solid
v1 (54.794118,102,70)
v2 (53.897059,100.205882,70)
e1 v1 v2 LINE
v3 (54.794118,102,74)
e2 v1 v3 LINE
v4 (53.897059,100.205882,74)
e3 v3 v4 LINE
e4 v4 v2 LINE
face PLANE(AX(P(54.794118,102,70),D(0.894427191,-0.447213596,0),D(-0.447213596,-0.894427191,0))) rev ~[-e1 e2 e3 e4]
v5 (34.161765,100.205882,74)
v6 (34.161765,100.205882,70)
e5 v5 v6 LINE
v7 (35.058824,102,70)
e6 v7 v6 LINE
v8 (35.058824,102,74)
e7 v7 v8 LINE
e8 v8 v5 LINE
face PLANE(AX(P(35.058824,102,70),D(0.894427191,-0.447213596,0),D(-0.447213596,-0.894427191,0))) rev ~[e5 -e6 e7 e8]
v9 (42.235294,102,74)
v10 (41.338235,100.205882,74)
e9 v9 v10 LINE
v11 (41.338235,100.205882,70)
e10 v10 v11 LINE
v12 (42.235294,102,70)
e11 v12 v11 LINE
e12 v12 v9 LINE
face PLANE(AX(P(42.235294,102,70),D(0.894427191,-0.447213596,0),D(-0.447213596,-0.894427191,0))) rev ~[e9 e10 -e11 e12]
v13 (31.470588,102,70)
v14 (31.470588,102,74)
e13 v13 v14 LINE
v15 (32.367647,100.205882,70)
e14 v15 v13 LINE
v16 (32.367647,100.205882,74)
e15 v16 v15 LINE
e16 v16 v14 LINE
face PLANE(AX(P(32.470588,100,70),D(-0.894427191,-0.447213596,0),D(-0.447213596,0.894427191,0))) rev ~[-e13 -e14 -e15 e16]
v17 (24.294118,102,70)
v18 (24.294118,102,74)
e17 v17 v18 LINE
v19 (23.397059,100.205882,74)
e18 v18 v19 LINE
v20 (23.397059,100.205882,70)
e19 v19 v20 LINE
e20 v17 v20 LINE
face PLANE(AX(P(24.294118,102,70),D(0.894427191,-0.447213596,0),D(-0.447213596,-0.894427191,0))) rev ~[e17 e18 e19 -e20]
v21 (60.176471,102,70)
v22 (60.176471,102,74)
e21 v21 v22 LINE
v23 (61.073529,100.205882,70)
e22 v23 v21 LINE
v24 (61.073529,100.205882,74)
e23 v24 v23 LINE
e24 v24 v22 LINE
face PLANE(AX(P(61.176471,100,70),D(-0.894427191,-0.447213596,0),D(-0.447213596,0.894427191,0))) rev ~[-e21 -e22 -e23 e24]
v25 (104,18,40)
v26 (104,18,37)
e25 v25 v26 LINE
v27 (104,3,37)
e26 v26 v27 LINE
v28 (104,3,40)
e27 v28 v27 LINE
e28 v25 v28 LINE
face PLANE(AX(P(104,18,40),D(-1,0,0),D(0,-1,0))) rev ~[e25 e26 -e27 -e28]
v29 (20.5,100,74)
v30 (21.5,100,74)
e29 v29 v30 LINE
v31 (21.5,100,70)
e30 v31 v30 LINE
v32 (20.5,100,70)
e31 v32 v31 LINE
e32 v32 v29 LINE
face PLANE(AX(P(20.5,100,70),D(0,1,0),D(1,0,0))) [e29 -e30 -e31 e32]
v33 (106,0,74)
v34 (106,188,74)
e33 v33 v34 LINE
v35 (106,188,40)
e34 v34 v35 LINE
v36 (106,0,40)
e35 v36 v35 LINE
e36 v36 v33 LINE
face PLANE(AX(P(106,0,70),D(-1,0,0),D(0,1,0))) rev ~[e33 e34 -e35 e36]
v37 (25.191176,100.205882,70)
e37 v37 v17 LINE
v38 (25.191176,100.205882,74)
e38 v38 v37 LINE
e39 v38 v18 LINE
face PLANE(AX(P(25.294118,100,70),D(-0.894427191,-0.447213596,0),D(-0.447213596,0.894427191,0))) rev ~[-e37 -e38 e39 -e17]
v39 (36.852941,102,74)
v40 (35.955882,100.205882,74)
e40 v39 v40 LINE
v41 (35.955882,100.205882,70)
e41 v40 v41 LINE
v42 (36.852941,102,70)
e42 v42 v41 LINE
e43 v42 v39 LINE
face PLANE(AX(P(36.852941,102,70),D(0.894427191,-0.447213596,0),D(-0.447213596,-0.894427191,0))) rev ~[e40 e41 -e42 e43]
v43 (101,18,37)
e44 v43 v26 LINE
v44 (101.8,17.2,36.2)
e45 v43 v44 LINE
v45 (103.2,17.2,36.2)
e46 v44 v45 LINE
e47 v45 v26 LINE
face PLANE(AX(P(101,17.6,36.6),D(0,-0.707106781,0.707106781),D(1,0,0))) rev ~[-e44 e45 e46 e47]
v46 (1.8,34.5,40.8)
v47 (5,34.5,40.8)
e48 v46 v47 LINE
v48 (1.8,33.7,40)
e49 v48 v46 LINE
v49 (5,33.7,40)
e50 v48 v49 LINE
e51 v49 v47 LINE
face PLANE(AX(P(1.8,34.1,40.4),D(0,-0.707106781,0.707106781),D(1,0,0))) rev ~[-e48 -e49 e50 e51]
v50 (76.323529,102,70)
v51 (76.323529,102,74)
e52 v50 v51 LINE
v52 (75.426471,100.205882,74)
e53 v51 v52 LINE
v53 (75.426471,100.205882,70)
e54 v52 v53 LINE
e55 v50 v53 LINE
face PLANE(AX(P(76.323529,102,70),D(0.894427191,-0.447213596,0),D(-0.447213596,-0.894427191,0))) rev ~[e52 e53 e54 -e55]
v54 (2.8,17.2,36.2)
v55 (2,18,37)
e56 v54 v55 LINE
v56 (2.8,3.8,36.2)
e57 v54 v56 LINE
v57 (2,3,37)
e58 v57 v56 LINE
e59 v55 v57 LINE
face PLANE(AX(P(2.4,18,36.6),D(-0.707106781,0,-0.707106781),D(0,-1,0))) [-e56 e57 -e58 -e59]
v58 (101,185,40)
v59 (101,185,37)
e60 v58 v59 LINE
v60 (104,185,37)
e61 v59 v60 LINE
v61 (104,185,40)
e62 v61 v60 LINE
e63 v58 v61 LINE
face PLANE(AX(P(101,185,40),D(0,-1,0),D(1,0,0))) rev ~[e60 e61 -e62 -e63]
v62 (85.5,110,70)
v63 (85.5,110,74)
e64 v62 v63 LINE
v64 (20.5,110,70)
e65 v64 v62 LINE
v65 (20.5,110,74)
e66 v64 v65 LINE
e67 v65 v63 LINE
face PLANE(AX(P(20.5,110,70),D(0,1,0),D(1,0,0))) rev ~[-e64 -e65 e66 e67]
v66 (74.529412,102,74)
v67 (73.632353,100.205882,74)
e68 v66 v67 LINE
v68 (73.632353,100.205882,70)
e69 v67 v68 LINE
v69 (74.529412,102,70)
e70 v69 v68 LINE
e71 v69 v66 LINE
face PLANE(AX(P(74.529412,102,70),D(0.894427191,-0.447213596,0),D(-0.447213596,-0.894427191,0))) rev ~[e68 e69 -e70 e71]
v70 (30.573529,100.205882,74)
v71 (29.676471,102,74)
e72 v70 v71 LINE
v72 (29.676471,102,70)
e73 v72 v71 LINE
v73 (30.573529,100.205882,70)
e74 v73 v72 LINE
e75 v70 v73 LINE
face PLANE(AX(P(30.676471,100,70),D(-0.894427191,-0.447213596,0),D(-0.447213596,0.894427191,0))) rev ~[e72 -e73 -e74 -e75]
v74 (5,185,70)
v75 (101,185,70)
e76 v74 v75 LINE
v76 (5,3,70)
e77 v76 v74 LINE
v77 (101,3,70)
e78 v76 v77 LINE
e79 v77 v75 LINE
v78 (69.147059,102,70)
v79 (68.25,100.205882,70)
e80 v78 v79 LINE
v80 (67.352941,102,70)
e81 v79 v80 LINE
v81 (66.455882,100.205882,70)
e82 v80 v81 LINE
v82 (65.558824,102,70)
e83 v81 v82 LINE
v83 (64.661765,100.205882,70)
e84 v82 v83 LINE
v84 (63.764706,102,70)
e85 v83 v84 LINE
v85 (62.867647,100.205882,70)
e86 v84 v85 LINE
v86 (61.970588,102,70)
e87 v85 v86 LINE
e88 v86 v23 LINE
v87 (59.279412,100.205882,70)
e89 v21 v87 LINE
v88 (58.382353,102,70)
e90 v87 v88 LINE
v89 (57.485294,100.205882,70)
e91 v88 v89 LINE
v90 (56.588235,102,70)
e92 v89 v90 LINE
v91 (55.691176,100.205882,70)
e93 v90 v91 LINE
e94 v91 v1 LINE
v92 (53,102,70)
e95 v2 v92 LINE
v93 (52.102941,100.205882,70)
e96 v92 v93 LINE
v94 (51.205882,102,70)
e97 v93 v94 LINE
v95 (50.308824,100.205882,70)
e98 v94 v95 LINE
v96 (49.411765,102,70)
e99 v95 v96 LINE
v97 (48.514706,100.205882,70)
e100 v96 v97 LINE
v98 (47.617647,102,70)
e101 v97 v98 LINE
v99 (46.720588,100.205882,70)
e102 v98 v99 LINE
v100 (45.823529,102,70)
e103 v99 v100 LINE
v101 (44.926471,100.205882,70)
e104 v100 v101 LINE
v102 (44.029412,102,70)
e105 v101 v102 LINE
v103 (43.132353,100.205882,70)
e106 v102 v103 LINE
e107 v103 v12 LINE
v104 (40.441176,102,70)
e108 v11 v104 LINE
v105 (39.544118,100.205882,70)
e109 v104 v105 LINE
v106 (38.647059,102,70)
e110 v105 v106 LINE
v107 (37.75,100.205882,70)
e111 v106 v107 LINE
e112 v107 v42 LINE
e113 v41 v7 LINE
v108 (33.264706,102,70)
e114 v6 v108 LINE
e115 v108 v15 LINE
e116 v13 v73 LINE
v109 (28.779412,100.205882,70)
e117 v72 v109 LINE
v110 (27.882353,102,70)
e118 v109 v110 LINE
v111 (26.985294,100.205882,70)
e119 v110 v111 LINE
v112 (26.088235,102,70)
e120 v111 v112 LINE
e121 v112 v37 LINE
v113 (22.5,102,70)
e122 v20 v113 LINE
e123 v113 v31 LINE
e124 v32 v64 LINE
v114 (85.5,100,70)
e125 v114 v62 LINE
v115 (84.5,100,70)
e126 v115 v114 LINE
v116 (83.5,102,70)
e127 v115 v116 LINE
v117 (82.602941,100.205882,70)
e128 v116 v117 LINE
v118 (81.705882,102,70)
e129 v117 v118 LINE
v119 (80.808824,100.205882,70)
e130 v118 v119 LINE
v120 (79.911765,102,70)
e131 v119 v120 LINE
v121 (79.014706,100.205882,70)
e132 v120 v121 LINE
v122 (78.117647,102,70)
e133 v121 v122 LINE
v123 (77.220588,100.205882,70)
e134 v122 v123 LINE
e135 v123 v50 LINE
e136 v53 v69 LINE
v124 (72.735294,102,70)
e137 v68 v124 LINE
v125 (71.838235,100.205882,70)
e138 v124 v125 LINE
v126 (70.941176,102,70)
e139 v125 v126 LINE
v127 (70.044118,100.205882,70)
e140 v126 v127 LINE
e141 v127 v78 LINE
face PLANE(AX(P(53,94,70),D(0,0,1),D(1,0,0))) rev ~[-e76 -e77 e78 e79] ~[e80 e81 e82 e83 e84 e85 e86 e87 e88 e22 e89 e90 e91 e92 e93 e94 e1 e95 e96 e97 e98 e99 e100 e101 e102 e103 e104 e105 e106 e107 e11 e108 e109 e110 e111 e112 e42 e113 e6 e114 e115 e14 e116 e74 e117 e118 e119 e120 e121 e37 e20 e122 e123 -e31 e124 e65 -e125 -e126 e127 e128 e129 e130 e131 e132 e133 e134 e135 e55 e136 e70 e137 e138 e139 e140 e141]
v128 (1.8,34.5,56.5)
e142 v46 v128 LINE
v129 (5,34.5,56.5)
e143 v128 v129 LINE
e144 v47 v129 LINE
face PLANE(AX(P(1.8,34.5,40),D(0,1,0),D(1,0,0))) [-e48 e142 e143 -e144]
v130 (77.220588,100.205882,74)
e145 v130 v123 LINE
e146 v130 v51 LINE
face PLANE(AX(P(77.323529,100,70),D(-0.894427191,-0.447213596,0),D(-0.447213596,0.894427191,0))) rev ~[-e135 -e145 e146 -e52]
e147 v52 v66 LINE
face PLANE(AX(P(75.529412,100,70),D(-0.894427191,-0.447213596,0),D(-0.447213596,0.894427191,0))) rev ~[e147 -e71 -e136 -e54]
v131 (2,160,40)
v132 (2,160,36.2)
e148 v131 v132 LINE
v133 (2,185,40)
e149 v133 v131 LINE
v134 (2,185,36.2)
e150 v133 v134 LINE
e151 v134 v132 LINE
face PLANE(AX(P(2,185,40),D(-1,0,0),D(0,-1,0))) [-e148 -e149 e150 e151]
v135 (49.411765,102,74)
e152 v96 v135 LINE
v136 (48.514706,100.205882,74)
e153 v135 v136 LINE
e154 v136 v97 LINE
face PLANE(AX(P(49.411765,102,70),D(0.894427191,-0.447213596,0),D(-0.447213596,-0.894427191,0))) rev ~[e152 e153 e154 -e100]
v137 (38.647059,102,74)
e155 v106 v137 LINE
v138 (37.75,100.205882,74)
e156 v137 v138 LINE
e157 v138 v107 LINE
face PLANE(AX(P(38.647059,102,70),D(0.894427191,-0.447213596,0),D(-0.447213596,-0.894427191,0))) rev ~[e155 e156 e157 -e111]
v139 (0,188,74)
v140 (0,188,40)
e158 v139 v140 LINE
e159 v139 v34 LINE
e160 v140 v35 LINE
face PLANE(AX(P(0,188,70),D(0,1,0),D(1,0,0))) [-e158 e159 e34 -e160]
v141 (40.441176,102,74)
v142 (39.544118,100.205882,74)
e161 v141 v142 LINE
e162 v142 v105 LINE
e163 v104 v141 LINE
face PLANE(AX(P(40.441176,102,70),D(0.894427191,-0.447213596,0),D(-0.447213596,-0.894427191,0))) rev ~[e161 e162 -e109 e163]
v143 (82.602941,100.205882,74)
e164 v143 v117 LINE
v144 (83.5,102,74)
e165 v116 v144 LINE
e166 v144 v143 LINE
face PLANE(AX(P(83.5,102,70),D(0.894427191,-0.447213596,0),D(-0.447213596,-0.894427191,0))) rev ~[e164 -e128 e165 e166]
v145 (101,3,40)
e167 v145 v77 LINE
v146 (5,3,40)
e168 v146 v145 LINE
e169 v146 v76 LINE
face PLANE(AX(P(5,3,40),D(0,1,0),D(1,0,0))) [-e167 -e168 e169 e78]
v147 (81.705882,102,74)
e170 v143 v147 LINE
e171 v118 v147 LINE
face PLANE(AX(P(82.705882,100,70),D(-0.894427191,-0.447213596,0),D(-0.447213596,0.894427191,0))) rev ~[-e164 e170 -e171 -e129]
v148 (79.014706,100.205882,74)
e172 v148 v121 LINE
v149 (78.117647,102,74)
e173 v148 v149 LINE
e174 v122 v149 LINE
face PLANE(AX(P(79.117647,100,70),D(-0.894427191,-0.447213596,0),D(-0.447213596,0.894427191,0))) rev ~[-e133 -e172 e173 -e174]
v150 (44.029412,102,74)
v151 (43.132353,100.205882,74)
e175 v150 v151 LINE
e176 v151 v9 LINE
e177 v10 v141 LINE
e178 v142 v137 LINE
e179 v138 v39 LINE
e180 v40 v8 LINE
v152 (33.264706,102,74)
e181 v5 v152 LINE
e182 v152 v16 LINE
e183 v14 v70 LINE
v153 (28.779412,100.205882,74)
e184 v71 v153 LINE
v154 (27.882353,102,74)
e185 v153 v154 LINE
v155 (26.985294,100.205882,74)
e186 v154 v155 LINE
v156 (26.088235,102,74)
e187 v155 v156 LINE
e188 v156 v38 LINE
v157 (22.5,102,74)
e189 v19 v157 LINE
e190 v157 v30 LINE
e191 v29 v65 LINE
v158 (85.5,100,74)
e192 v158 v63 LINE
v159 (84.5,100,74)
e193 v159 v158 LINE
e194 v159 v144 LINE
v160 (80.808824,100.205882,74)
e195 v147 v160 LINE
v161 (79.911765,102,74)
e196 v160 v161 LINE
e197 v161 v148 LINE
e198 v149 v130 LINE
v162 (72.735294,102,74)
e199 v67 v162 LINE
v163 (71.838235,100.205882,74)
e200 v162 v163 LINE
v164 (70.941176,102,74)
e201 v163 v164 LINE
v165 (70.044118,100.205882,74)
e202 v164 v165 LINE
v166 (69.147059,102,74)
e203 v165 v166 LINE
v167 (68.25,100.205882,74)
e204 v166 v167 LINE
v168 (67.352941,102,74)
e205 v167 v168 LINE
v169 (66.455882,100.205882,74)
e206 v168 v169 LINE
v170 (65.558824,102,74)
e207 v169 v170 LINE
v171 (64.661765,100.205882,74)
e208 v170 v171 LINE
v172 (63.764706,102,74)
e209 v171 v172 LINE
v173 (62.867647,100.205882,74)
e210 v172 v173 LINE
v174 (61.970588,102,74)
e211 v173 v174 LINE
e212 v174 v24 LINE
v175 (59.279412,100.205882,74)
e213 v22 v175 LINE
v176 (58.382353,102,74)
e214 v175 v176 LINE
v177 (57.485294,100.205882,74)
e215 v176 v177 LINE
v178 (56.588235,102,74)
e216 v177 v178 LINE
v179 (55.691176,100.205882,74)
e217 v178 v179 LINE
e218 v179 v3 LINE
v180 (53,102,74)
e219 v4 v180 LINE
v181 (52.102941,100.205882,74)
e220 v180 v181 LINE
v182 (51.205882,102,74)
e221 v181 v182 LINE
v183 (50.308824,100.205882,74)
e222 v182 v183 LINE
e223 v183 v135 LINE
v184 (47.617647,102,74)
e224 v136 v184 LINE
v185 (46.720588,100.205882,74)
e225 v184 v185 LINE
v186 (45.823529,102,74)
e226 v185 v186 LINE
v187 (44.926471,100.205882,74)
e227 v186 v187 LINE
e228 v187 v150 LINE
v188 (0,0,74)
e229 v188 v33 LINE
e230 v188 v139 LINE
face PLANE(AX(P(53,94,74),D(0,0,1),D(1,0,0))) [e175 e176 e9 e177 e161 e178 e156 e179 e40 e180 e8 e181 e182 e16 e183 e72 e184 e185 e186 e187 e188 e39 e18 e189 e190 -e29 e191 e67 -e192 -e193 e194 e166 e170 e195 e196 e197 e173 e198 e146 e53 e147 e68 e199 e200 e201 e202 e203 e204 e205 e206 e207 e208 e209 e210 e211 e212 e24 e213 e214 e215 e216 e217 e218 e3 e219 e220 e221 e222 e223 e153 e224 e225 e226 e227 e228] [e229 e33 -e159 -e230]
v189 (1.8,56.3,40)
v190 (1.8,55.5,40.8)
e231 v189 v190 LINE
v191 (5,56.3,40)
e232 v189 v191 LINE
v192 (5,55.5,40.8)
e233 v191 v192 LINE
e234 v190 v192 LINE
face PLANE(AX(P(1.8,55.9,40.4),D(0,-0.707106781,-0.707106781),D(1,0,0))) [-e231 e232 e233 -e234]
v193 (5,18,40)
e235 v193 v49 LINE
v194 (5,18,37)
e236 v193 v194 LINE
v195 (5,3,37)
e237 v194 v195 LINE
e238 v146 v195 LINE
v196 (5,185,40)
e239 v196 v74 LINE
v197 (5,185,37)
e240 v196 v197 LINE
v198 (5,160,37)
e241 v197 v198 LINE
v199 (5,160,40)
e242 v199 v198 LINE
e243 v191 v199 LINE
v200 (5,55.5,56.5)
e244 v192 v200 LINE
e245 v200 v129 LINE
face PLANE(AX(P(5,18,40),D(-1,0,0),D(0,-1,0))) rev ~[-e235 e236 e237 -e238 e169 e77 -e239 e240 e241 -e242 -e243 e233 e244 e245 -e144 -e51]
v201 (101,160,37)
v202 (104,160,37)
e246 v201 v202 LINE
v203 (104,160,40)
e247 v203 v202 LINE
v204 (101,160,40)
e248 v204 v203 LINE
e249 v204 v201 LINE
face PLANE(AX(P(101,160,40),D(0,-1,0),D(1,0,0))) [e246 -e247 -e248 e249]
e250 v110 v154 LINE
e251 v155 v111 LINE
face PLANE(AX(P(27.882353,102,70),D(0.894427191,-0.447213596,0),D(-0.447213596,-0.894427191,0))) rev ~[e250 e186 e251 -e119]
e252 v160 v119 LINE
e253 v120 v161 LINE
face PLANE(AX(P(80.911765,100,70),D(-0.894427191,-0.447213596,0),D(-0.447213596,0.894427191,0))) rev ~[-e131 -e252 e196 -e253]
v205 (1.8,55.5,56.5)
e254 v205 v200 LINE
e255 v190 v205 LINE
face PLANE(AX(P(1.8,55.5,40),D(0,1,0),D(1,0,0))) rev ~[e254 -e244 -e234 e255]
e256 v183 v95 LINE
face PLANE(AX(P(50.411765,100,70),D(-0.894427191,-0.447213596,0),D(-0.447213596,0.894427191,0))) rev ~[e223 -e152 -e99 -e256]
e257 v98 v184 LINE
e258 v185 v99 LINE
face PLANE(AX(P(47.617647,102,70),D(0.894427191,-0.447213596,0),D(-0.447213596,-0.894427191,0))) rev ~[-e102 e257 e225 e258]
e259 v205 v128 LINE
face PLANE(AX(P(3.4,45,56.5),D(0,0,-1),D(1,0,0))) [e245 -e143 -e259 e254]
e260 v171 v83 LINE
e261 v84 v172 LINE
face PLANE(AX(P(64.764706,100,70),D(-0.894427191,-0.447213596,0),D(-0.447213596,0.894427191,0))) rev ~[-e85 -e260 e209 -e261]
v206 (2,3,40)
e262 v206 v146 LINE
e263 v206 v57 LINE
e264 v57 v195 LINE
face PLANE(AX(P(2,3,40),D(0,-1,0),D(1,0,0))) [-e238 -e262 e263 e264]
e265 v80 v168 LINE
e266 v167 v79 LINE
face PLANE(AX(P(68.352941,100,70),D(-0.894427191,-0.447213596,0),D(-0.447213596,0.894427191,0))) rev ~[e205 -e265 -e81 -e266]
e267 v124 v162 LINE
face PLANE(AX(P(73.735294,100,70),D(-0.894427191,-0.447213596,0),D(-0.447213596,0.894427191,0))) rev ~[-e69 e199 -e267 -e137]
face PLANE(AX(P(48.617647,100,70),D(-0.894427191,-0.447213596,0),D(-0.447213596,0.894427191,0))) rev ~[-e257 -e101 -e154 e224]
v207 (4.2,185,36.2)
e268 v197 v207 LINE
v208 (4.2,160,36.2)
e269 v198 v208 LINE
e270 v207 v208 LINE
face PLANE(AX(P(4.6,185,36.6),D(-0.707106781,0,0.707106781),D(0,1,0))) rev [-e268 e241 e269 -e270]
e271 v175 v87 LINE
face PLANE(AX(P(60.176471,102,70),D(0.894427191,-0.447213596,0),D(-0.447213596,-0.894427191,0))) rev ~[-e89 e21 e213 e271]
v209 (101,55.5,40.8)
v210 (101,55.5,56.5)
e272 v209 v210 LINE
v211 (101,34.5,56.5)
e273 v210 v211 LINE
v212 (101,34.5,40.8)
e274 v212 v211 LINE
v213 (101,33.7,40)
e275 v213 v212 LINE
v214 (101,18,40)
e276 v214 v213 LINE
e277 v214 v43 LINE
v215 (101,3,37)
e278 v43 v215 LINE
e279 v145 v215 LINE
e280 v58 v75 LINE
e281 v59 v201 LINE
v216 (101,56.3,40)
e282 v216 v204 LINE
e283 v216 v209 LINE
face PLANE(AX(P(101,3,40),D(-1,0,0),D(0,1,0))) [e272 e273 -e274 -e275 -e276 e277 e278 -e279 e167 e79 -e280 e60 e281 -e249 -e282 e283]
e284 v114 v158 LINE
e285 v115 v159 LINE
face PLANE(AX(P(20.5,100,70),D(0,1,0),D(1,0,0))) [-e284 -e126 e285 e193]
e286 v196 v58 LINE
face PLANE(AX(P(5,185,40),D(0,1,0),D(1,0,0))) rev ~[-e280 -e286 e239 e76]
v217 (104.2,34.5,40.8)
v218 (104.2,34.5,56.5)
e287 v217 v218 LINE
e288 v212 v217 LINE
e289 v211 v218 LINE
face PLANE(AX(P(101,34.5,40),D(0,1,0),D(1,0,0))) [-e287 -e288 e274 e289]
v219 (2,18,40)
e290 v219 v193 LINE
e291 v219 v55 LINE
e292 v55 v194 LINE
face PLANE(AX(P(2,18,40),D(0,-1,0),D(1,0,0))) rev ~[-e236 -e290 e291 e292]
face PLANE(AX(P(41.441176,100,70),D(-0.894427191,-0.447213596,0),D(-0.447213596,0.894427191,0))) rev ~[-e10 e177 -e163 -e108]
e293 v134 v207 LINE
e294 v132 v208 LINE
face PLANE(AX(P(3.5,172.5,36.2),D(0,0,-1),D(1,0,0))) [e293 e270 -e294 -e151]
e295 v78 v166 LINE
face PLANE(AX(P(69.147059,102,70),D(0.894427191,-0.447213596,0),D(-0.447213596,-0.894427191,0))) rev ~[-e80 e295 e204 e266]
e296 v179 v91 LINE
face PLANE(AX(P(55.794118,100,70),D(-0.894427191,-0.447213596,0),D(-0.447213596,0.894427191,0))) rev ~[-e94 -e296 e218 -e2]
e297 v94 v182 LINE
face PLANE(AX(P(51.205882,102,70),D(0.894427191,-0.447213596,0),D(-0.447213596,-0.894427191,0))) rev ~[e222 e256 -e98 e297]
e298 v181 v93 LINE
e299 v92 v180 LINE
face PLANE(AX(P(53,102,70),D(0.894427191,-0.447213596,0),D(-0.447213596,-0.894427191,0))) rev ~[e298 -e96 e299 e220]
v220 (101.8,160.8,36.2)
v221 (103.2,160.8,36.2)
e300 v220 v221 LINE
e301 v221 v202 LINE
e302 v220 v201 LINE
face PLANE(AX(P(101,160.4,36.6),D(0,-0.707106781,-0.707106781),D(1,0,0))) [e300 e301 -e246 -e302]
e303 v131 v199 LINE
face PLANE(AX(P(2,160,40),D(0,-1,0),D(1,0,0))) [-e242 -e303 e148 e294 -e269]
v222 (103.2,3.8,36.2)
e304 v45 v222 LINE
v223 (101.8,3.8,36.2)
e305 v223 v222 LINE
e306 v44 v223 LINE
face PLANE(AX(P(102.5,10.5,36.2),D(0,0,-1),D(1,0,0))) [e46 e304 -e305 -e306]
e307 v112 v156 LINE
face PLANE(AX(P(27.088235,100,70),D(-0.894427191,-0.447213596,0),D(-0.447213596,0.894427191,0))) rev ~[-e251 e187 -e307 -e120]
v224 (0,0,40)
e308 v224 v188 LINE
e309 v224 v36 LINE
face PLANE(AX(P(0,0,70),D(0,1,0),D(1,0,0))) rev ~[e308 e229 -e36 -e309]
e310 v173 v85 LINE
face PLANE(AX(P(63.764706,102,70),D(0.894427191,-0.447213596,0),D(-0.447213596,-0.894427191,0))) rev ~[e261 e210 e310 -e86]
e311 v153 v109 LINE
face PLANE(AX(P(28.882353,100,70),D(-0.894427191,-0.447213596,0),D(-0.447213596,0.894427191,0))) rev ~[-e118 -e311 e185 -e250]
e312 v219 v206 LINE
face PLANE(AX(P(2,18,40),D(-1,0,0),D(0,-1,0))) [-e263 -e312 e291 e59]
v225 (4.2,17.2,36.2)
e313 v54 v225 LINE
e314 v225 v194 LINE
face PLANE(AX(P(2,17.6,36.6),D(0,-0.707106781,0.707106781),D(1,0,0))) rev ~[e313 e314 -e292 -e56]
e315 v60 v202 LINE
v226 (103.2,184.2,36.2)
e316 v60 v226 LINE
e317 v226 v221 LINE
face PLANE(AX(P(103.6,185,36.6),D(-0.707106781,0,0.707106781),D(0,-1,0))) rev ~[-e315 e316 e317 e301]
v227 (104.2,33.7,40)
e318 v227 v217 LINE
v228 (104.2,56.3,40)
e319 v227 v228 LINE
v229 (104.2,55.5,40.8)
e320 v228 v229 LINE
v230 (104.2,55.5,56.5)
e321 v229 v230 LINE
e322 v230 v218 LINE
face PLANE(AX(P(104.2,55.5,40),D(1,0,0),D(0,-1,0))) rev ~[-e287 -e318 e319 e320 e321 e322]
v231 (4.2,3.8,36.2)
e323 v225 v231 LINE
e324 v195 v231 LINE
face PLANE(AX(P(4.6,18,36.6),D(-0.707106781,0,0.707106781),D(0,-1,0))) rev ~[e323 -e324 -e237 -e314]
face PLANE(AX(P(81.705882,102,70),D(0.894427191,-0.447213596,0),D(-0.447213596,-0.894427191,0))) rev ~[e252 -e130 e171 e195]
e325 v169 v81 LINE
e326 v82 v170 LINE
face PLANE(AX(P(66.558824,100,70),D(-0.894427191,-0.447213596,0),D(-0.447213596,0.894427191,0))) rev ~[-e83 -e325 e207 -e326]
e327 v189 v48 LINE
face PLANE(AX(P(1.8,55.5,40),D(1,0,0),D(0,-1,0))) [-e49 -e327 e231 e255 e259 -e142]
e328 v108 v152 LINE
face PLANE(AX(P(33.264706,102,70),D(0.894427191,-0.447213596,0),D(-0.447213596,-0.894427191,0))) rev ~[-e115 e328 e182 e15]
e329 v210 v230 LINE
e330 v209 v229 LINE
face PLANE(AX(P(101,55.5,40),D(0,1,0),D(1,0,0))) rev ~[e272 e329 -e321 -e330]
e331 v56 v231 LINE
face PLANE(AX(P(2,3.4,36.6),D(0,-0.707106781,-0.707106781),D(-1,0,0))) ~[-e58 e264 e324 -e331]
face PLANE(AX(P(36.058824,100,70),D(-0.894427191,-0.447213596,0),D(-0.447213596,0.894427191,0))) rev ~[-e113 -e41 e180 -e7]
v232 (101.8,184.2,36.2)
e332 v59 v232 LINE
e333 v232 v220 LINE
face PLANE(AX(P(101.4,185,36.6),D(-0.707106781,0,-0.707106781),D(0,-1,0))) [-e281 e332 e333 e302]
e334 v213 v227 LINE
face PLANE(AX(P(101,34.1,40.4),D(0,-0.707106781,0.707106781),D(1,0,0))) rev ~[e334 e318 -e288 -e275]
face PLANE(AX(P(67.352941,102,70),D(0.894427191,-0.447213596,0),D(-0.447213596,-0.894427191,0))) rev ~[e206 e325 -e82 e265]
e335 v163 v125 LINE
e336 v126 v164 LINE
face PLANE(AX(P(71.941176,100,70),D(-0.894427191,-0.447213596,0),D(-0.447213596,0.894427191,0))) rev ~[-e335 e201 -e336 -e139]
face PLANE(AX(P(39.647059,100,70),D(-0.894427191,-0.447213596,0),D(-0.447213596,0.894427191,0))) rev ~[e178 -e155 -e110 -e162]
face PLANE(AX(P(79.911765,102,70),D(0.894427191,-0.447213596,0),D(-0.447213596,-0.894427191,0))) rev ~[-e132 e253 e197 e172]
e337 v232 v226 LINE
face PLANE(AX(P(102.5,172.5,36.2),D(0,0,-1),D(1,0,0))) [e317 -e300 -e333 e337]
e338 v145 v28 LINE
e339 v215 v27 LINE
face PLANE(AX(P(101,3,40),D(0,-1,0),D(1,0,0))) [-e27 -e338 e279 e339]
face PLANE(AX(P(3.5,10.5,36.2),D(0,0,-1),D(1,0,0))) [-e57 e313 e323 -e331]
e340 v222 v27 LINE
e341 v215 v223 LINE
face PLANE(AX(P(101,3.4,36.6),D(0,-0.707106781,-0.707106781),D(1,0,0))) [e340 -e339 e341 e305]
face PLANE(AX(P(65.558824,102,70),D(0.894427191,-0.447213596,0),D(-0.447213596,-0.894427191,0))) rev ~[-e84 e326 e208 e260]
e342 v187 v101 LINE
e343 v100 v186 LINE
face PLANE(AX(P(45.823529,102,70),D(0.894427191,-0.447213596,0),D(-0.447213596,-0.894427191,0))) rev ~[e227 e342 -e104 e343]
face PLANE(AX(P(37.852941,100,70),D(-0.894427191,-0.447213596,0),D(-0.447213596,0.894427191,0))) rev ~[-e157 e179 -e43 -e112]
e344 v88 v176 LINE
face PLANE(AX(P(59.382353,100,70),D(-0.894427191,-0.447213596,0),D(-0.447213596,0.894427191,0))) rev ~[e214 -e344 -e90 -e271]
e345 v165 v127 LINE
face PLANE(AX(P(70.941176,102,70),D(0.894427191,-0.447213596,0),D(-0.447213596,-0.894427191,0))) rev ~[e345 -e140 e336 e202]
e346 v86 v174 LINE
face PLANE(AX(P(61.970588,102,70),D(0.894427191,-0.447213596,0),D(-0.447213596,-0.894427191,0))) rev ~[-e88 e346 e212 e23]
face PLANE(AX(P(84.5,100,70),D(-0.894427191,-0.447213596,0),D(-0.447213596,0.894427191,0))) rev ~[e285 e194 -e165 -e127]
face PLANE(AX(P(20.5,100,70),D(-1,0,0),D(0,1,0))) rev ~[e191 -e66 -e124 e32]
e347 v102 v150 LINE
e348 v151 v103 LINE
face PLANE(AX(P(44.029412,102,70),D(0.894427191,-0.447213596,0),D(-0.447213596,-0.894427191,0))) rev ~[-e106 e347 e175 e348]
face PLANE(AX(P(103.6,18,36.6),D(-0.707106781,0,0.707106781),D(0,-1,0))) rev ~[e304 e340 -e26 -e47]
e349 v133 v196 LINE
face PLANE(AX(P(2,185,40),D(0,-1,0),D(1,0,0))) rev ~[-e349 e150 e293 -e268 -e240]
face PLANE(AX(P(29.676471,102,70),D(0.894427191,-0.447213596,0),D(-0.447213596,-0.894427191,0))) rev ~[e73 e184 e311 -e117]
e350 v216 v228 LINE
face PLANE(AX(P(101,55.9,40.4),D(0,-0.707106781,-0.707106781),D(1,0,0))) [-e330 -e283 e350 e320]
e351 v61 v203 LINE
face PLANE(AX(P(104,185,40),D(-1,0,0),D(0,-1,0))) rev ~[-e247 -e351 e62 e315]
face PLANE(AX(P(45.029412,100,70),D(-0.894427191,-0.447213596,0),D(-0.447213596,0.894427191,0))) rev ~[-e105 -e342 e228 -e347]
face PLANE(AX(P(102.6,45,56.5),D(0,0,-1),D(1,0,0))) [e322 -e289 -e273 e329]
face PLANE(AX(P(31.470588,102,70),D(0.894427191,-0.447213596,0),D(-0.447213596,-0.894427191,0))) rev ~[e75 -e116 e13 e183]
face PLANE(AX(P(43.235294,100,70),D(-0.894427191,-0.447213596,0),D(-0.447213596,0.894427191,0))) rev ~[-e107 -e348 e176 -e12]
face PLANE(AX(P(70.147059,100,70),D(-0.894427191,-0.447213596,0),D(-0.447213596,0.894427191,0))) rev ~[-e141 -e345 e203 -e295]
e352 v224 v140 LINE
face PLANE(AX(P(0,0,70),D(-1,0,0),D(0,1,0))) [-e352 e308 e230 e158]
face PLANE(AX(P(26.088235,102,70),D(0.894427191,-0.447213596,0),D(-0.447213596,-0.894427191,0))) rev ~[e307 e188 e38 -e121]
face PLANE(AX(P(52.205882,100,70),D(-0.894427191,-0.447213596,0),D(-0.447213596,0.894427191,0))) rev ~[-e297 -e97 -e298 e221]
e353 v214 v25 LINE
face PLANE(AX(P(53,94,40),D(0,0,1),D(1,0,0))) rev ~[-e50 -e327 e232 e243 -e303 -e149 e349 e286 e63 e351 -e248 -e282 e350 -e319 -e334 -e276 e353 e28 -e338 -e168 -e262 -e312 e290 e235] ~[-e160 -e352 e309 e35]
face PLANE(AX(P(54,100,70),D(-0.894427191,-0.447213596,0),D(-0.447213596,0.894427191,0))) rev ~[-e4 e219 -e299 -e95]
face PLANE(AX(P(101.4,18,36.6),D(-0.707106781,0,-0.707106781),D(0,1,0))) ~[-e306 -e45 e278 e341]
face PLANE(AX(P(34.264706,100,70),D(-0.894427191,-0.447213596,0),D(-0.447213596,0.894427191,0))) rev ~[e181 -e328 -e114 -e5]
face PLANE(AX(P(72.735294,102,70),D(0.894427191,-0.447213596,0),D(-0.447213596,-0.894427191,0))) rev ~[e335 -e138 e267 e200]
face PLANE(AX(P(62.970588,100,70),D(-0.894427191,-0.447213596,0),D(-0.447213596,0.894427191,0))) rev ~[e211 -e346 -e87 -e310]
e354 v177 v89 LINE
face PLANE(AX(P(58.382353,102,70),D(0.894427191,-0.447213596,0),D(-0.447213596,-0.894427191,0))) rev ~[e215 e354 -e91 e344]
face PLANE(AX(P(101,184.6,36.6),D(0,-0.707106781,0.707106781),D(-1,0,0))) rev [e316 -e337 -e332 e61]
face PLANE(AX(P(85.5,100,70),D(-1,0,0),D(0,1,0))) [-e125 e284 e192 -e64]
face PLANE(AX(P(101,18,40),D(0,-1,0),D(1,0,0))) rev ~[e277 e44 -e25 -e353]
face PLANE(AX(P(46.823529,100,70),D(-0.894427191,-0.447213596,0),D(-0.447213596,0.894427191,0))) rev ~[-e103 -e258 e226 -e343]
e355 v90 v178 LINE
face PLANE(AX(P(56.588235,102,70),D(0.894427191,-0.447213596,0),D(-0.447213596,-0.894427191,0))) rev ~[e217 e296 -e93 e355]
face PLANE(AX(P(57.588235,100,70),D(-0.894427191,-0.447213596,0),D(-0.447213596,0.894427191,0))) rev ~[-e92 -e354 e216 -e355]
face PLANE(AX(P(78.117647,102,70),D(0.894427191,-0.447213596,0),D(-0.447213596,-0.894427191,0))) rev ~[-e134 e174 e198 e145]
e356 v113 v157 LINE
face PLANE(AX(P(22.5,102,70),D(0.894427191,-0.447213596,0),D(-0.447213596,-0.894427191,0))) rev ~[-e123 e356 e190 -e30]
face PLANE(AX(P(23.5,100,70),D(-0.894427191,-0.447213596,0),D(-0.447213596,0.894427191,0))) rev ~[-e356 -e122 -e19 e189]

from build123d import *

# Parameters (mm, degrees)
SKETCH016_W         = 106
SKETCH016_H         = 188
SKETCH016_W_2       = 96
SKETCH016_H_2       = 182
PAD010_DEPTH        = 30
SKETCH017_W         = 3
SKETCH017_H         = 15
SKETCH017_H_2       = 25
PAD011_DEPTH        = 3.8
SKETCH018_W         = 3.2
SKETCH018_H         = 21
SKETCH018_W_2       = 3.2000000001
POCKET006_DEPTH     = 16.5
SKETCH019_W         = 106
SKETCH019_H         = 188
SKETCH019_W_2       = 65
SKETCH019_H_2       = 10
PAD012_DEPTH        = 4
CHAMFER001_SIZE     = 0.8
CHAMFER002_SIZE     = 0.8
PAD013_DEPTH        = 4
LINEARPATTERN_COUNT = 35
LINEARPATTERN_PITCH = 1.7941176471


with BuildPart() as part:
    # Sketch016 → Pad010 (new body)
    with BuildSketch(Plane.XY):
        with Locations((53, 94)):
            Rectangle(SKETCH016_W, SKETCH016_H)
        with Locations((53, 94)):
            Rectangle(SKETCH016_W_2, SKETCH016_H_2, mode=Mode.SUBTRACT)
    extrude(amount=PAD010_DEPTH)

    # Sketch017 (on Face9 of Pad010) → Pad011 (join)
    with BuildSketch(Plane(origin=(0, 0, 0), x_dir=(1, 0, 0), z_dir=(0, 0, -1))):
        with Locations((3.5, -10.5)):
            Rectangle(SKETCH017_W, SKETCH017_H)
        with Locations((3.5, -172.5)):
            Rectangle(SKETCH017_W, SKETCH017_H_2)
        with Locations((102.5, -172.5)):
            Rectangle(SKETCH017_W, SKETCH017_H_2)
        with Locations((102.5, -10.5)):
            Rectangle(SKETCH017_W, SKETCH017_H)
    extrude(amount=PAD011_DEPTH)

    # Sketch018 (on Face4 of Pad011) → Pocket006 (cut)
    with BuildSketch(Plane(origin=(0, 0, 0), x_dir=(1, 0, 0), z_dir=(0, 0, -1))):
        with Locations((3.4, -45)):
            Rectangle(SKETCH018_W, SKETCH018_H)
        with Locations((102.6, -45)):
            Rectangle(SKETCH018_W_2, SKETCH018_H)
    extrude(amount=-POCKET006_DEPTH, mode=Mode.SUBTRACT)

    # Sketch019 (on Face5 of Pocket006) → Pad012 (join)
    with BuildSketch(Plane.XY.offset(30)):
        with Locations((53, 94)):
            Rectangle(SKETCH019_W, SKETCH019_H)
        with Locations((52.9999999999, 105)):
            Rectangle(SKETCH019_W_2, SKETCH019_H_2, mode=Mode.SUBTRACT)
    extrude(amount=PAD012_DEPTH)

    # Chamfer001
    chamfer001_edges = [part.edges().sort_by_distance(p)[0] for p in [
        (101, 10.5, -3.8),
        (102.5, 18, -3.8),
        (104, 10.5, -3.8),
        (102.5, 3, -3.8),
        (102.5, 185, -3.8),
        (104, 172.5, -3.8),
        (102.5, 160, -3.8),
        (101, 172.5, -3.8),
        (5, 172.5, -3.8),
        (3.5, 3, -3.8),
        (2, 10.5, -3.8),
        (3.5, 18, -3.8),
        (5, 10.5, -3.8),
    ]]
    chamfer(chamfer001_edges, length=CHAMFER001_SIZE)

    # Chamfer002
    chamfer002_edges = [part.edges().sort_by_distance(p)[0] for p in [
        (102.6, 55.5, 0),
        (102.6, 34.5, 0),
        (3.4, 34.5, 0),
        (3.4, 55.5, 0),
    ]]
    chamfer(chamfer002_edges, length=CHAMFER002_SIZE)

    # Sketch020 (on Face12 of Chamfer002) → Pad013 (join)
    with BuildSketch(Plane(origin=(0, 0, 30), x_dir=(1, 0, 0), z_dir=(0, 0, -1))):
        Polygon((84.4999999999, -100), (83.4999999999, -102), (82.4999999999, -100), align=None)
    pad013 = extrude(amount=-PAD013_DEPTH)

    # LinearPattern: Pad013 ×35
    with Locations(*[(-i * LINEARPATTERN_PITCH, 0, 0) for i in range(1, LINEARPATTERN_COUNT)]):
        add(pad013)


with BuildPart() as part_1:
    # Body003 placement: moved
    add(part.part.moved(Location((0, 0, 40))))


solid = part_1.part
